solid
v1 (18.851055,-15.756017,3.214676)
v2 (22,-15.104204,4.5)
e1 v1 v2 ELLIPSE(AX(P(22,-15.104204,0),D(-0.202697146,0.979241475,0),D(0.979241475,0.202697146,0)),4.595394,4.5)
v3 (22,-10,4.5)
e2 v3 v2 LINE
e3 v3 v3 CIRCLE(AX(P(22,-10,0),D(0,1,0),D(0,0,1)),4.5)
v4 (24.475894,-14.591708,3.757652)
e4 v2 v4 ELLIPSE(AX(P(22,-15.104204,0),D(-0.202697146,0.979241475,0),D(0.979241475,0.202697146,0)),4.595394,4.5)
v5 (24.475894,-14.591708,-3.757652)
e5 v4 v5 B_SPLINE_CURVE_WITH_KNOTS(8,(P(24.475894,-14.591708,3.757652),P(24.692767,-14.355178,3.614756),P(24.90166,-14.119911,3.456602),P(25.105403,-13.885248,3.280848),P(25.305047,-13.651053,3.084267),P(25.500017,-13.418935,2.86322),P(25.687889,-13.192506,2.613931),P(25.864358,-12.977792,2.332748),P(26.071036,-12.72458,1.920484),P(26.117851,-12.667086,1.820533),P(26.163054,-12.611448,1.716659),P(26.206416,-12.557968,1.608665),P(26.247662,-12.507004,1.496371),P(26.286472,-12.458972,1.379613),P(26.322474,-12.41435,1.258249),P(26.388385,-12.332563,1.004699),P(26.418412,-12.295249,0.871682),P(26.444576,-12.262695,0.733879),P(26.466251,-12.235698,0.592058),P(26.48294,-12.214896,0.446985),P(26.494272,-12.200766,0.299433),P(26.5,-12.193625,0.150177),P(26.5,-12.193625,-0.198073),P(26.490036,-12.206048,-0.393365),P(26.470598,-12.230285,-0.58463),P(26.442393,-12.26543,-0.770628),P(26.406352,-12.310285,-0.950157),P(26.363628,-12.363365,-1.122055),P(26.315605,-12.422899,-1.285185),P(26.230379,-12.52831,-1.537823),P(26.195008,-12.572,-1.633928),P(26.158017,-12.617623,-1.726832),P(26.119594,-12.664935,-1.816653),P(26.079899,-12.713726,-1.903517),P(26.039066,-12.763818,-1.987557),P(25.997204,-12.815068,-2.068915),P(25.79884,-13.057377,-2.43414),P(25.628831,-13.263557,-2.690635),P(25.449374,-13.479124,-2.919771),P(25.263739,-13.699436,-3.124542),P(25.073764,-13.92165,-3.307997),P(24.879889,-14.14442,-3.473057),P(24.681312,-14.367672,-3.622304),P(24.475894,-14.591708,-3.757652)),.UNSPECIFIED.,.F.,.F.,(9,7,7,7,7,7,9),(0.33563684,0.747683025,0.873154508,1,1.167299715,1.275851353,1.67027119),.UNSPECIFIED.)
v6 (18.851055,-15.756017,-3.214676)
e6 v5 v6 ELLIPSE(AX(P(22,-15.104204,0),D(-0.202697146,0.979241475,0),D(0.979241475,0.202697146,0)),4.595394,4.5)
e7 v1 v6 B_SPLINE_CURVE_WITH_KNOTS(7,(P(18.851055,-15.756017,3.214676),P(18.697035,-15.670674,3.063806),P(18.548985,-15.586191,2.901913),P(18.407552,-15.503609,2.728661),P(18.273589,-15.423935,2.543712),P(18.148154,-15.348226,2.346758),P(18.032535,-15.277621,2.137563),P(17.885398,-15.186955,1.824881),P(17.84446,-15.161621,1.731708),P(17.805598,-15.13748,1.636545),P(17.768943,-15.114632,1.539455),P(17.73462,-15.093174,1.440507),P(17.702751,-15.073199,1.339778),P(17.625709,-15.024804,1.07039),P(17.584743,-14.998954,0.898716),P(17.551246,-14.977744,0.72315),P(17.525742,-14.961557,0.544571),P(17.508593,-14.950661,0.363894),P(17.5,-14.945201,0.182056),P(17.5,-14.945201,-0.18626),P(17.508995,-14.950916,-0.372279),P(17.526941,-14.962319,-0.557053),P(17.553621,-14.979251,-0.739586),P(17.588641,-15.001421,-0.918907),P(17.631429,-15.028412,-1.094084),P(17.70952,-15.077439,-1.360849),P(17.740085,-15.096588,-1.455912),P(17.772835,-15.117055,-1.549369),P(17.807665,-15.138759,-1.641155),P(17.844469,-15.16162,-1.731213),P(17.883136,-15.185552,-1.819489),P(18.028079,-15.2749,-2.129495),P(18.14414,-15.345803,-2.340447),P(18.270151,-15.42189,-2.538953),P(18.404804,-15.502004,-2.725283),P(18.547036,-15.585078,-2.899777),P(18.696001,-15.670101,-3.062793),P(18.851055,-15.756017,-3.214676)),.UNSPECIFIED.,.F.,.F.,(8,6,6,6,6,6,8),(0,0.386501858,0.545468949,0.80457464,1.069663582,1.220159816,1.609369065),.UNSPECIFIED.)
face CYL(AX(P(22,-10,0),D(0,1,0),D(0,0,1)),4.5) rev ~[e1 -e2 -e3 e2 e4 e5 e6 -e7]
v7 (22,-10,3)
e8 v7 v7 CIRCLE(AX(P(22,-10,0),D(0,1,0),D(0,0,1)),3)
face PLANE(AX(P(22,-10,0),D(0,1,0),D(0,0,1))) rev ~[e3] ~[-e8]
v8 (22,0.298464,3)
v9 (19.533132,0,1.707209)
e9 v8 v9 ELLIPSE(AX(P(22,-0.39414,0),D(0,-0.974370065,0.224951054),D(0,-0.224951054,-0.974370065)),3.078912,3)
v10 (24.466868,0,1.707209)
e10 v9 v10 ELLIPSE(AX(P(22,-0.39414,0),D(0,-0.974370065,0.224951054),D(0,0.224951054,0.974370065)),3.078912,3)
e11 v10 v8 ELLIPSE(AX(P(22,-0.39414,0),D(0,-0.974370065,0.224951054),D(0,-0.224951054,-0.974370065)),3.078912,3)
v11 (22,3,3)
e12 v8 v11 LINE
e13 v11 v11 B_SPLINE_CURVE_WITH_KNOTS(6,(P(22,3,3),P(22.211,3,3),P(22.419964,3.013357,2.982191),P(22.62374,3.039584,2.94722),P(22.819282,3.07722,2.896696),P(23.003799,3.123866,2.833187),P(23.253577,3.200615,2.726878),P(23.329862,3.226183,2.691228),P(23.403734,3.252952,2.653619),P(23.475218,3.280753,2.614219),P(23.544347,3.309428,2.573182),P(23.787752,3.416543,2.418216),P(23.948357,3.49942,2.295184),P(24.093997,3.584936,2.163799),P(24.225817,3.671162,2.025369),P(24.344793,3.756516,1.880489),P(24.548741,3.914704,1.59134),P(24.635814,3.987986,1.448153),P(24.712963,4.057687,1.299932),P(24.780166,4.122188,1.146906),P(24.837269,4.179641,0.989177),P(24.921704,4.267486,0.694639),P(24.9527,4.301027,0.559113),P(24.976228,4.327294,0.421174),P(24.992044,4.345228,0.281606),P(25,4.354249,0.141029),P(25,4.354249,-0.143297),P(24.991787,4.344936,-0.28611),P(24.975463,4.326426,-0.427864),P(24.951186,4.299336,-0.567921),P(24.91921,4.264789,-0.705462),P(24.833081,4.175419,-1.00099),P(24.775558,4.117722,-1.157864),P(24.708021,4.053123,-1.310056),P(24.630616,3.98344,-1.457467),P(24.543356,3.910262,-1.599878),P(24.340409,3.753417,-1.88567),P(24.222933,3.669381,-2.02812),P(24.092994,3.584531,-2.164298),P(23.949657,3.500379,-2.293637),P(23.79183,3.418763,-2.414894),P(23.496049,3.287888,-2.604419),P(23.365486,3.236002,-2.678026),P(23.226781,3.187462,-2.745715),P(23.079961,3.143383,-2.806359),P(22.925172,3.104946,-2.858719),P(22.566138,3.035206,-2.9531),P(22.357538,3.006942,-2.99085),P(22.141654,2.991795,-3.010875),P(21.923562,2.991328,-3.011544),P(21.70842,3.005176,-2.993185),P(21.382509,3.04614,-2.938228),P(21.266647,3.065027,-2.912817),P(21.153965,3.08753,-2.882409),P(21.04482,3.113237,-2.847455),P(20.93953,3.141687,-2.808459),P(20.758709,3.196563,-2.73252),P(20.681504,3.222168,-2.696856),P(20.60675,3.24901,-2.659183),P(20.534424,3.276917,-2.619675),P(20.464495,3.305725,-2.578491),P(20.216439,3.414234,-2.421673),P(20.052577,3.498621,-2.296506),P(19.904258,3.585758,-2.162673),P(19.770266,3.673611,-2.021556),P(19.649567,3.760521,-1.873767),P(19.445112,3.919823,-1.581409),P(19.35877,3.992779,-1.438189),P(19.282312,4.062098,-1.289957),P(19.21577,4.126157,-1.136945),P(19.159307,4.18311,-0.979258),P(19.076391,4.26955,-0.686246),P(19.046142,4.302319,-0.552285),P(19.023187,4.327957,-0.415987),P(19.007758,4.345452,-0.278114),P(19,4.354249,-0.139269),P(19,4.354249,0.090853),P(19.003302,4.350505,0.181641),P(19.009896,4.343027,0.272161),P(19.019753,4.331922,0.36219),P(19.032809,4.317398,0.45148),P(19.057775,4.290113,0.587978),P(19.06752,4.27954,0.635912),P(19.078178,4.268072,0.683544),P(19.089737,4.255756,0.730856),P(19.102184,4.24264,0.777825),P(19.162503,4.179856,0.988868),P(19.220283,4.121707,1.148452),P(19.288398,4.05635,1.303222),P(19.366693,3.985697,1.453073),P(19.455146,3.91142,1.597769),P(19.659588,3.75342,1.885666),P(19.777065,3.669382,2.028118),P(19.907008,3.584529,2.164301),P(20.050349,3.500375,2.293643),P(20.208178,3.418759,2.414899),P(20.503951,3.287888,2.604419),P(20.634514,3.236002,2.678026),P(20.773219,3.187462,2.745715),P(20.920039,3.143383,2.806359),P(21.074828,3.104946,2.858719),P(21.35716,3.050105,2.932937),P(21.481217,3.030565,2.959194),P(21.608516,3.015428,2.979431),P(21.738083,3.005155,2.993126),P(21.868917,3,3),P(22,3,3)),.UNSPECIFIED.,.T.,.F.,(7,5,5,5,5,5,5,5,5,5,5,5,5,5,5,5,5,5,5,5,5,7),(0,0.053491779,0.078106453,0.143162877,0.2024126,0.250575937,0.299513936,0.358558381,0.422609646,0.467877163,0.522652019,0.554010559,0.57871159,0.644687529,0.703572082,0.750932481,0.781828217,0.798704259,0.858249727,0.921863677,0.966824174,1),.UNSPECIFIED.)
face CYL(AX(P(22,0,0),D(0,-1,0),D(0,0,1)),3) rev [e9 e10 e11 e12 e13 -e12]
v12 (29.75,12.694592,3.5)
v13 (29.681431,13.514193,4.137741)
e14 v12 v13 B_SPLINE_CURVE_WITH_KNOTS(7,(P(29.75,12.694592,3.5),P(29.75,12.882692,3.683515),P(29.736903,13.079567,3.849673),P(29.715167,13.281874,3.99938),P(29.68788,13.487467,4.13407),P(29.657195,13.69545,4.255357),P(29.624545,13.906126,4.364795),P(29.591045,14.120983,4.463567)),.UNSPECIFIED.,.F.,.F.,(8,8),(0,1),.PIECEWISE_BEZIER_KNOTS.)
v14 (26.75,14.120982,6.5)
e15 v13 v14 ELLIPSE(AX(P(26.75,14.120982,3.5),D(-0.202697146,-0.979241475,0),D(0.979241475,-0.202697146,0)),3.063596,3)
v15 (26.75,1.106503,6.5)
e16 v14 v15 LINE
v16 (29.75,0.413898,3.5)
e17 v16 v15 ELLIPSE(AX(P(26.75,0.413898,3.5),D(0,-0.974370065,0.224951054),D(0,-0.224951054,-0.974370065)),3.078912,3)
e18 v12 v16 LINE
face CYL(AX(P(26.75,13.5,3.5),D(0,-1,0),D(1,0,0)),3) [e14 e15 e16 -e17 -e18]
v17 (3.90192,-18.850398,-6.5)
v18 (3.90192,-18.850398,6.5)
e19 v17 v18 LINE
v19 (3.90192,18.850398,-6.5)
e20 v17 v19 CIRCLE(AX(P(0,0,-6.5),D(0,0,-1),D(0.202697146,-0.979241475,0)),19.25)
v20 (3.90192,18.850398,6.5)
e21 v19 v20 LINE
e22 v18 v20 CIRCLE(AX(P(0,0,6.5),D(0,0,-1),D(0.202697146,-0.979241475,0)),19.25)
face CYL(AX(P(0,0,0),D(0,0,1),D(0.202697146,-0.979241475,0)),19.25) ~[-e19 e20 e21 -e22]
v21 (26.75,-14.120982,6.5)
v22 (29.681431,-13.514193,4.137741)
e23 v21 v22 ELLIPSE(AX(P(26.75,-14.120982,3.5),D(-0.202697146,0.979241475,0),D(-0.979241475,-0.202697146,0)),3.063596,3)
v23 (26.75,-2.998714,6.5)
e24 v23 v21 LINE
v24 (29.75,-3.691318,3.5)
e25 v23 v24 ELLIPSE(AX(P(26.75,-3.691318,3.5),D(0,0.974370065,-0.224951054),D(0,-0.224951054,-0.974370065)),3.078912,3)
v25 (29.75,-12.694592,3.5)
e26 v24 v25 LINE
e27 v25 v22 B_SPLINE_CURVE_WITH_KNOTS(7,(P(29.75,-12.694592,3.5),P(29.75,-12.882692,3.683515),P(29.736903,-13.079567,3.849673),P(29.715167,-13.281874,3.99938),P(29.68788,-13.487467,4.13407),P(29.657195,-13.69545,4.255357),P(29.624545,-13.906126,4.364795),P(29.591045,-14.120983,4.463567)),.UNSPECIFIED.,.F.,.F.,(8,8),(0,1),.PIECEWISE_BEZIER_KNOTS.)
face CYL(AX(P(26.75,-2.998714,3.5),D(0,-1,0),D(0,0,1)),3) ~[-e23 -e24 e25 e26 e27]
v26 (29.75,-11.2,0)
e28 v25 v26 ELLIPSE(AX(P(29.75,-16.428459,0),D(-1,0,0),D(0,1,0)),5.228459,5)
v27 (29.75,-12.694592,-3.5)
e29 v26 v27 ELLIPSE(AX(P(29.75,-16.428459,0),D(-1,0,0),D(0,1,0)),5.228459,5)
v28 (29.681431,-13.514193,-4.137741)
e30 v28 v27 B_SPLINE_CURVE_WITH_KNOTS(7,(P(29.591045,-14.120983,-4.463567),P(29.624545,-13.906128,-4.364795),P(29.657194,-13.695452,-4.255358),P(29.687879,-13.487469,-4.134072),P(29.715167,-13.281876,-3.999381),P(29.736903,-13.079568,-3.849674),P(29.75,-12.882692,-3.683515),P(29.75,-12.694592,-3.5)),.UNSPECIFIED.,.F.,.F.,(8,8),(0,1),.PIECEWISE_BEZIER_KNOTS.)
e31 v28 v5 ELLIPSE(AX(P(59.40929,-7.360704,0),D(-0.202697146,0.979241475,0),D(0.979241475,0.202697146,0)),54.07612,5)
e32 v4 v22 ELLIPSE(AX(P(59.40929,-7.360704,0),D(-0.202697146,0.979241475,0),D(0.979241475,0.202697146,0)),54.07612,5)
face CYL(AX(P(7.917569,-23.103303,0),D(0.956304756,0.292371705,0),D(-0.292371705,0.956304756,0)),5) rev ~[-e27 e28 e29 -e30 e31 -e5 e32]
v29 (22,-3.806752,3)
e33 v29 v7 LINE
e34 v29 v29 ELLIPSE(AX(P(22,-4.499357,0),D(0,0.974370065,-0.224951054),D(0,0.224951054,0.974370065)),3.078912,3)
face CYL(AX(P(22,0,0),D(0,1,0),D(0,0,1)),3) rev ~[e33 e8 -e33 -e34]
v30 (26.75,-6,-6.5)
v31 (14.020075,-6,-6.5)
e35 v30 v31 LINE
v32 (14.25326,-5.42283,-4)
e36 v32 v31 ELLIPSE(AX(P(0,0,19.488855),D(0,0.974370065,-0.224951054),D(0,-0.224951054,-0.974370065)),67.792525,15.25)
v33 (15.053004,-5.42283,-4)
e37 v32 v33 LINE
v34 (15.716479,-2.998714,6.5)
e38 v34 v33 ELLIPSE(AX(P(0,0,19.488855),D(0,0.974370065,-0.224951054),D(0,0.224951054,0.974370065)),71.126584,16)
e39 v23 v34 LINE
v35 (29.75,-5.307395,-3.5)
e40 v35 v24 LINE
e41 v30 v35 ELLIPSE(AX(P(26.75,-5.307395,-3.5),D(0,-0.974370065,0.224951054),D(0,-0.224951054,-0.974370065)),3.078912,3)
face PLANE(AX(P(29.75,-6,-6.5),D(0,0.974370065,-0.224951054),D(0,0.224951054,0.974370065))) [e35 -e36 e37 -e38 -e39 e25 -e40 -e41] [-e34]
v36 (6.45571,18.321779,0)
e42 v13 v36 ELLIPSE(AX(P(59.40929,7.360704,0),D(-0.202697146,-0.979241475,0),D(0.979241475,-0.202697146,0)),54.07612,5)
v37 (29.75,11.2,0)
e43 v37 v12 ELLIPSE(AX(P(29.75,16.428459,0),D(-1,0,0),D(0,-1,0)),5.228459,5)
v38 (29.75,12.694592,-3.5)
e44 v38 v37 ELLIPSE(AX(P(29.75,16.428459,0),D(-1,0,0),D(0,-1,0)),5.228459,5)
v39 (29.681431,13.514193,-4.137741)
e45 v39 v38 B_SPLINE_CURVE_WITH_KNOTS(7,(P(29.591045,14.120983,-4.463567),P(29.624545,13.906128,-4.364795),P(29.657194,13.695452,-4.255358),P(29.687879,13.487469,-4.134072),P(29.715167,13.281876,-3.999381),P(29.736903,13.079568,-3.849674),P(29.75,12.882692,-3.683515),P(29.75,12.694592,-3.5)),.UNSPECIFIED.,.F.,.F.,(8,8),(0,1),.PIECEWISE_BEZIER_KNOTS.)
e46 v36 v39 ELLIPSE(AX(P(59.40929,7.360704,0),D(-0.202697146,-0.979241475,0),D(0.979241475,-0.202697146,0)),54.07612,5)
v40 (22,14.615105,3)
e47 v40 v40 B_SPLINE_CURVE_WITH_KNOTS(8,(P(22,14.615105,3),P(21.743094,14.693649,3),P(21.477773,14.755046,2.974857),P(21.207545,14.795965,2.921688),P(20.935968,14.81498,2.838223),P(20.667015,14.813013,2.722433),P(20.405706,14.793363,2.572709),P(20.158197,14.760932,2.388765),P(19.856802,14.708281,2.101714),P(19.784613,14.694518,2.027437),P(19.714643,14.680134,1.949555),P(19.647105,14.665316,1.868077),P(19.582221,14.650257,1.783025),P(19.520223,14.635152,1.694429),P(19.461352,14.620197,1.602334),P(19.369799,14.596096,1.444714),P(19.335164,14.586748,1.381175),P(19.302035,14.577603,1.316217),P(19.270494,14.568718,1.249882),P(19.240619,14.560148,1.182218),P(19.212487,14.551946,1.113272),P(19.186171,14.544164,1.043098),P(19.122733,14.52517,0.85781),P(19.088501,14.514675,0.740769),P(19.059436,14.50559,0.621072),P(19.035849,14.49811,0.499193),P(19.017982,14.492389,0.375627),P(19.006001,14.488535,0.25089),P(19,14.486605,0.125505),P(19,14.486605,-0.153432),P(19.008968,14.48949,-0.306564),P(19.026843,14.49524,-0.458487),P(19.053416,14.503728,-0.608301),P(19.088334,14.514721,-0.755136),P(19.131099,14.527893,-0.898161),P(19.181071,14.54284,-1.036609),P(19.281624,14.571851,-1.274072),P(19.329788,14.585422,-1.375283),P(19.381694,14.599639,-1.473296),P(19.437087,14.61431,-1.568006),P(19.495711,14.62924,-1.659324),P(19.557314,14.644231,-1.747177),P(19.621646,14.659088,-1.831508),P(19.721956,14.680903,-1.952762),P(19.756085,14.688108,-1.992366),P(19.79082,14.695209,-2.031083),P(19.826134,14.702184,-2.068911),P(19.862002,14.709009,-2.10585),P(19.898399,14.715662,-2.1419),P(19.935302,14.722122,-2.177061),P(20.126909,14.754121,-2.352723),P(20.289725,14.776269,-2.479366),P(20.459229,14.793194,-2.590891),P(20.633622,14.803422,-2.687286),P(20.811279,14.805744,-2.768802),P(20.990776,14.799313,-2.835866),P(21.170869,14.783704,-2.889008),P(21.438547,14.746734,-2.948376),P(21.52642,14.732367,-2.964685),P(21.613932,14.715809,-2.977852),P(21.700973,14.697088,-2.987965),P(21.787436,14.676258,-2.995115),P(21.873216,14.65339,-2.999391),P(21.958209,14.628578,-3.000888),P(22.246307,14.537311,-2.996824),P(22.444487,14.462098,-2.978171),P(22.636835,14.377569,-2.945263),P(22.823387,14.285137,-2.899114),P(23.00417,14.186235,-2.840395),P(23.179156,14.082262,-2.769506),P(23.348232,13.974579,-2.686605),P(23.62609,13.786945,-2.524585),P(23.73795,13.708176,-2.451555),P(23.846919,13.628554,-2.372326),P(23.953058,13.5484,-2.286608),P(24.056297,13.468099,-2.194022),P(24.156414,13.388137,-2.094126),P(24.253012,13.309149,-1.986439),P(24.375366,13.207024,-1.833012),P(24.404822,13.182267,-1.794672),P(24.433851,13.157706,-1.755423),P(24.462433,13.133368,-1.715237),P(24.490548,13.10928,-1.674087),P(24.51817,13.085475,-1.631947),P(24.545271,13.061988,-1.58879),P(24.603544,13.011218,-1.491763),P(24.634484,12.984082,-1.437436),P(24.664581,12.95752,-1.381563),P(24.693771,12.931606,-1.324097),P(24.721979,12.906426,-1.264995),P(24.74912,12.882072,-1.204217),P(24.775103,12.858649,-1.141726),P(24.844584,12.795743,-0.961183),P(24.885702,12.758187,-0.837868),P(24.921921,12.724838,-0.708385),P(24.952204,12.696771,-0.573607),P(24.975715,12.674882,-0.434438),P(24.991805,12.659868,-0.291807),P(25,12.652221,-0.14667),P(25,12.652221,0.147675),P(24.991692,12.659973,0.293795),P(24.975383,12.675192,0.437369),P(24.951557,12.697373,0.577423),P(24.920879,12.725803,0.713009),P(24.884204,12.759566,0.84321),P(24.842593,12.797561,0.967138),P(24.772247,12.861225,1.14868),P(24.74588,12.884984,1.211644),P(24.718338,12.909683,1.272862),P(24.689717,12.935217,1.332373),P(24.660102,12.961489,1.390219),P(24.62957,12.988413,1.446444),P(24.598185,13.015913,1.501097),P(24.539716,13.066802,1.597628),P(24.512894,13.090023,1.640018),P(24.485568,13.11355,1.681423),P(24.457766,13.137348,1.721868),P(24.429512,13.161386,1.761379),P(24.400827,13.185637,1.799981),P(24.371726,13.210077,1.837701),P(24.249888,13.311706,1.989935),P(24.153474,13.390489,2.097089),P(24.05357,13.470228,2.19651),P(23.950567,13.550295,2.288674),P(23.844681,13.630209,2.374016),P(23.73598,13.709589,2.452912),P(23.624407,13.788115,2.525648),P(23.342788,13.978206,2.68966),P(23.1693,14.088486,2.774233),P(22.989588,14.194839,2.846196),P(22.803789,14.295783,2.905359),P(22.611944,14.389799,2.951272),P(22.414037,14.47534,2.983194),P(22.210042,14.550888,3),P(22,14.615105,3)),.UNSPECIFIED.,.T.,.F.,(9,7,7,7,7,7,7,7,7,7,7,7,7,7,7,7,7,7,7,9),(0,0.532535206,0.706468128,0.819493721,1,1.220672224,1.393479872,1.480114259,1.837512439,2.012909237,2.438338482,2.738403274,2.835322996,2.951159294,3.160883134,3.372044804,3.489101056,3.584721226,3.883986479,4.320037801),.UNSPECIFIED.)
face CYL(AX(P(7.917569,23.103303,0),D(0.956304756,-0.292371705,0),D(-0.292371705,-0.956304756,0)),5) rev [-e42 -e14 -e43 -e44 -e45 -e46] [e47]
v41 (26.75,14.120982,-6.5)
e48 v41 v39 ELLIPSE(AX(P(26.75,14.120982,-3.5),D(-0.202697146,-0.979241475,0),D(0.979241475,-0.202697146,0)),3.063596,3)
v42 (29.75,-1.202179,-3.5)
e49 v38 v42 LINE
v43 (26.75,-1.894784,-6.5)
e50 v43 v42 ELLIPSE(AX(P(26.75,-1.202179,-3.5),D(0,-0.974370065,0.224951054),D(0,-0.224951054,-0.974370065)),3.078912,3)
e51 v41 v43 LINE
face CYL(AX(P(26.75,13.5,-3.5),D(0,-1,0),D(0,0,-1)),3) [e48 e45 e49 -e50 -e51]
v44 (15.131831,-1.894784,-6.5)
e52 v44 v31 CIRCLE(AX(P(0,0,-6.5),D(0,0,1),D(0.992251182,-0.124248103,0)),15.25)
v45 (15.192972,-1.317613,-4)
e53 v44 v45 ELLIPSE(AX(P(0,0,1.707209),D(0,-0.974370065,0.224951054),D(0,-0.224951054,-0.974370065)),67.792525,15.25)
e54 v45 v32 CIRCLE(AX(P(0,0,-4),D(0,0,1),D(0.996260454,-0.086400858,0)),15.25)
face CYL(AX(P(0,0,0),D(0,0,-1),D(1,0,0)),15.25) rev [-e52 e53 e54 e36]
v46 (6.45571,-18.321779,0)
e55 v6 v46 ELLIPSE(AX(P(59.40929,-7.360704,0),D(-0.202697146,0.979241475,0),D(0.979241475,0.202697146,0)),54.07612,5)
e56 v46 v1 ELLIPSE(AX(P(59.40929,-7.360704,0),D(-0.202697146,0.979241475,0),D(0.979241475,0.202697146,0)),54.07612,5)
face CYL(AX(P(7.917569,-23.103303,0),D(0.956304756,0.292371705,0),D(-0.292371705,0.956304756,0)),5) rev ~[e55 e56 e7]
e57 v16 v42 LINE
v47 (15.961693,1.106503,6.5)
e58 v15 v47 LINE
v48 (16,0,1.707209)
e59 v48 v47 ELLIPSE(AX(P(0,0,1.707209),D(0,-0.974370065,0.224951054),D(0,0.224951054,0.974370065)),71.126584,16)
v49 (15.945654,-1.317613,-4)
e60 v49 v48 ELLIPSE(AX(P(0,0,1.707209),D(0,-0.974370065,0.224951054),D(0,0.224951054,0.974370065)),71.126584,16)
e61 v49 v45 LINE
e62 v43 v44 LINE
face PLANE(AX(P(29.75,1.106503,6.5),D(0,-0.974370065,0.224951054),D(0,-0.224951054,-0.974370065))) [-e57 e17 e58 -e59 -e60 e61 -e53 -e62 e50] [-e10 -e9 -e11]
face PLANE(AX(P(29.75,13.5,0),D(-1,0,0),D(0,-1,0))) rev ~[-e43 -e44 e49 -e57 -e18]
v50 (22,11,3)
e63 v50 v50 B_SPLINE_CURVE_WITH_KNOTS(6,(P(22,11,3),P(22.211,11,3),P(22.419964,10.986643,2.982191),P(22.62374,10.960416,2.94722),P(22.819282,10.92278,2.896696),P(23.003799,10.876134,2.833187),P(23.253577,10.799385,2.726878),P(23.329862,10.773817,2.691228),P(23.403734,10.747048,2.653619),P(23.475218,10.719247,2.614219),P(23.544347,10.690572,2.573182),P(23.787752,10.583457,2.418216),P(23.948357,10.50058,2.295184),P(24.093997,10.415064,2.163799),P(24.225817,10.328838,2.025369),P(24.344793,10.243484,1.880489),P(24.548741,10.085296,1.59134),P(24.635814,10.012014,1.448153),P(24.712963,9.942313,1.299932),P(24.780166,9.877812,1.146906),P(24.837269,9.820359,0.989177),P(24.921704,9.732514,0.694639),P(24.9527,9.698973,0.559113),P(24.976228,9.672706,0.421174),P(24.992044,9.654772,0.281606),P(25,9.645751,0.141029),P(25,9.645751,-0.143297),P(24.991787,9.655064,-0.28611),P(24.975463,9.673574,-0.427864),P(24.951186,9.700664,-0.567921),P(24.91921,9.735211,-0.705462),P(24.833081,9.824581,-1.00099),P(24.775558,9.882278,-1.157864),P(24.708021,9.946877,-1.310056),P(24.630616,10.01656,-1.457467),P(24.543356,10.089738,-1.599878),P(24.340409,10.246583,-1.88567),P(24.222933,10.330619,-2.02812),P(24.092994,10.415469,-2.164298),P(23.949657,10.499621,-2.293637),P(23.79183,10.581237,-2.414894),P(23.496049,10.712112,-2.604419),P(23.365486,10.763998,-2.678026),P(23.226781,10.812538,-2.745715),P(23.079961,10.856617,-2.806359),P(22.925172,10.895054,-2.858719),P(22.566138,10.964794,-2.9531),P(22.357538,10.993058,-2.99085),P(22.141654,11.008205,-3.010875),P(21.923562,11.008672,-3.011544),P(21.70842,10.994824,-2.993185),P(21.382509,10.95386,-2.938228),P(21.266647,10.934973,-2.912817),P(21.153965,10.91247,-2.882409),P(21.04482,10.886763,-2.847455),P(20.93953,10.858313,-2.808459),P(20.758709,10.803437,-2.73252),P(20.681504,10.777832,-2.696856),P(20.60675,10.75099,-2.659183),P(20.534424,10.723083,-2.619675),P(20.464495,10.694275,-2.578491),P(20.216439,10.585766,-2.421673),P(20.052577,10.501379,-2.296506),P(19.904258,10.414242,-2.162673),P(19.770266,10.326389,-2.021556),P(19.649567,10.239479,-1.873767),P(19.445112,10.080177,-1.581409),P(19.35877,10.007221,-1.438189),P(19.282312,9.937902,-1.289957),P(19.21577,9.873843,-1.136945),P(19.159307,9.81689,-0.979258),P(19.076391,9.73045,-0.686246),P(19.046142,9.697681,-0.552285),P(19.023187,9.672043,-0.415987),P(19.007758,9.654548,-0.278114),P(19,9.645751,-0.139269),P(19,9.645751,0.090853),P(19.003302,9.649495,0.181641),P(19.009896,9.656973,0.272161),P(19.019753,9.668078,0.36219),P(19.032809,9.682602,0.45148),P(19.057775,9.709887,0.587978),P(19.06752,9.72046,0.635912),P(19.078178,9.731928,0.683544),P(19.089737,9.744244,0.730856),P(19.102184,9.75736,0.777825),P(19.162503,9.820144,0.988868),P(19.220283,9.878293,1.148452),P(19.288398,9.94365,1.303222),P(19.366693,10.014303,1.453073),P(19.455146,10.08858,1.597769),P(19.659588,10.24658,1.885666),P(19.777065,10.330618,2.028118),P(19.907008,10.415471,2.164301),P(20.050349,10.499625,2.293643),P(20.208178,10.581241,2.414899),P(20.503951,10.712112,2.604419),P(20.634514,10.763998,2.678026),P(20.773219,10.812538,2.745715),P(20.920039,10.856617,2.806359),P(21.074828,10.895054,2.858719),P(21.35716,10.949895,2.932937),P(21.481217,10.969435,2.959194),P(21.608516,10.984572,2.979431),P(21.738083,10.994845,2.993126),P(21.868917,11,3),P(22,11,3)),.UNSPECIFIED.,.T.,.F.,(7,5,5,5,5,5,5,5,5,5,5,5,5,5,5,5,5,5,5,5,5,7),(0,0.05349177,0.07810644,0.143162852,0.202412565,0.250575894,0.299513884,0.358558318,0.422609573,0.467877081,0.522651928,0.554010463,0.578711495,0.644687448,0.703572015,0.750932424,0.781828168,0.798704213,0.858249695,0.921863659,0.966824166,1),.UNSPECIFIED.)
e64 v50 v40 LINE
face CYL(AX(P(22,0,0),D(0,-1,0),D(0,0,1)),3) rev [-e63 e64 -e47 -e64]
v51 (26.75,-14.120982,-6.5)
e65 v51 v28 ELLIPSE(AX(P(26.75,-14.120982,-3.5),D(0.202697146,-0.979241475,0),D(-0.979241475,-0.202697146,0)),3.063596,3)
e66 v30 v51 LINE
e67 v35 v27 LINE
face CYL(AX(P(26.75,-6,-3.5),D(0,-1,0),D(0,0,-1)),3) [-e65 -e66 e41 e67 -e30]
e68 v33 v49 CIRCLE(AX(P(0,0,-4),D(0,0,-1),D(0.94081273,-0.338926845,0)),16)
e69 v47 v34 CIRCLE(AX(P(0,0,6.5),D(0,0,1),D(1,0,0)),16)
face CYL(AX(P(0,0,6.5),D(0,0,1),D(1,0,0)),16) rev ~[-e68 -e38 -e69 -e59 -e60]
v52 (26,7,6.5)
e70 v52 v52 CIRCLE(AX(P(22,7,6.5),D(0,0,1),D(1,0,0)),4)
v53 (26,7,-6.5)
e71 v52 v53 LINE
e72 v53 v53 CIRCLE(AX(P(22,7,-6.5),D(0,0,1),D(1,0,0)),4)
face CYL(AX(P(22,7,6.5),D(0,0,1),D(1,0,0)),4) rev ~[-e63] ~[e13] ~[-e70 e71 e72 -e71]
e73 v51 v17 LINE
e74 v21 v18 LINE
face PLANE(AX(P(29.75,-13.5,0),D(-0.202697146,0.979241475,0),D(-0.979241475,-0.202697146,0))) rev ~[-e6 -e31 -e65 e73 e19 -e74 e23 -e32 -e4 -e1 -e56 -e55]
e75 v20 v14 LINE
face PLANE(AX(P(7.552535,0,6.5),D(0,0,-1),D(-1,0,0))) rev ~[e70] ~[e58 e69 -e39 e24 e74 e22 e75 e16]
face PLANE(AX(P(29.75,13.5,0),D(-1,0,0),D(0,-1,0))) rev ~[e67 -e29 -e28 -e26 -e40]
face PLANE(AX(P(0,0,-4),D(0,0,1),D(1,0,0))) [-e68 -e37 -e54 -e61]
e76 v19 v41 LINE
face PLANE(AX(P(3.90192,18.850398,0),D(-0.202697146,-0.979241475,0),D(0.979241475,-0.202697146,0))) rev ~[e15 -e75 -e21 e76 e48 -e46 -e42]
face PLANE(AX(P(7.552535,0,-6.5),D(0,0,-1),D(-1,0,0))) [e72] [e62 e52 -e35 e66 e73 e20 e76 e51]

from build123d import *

# Parameters (mm, degrees)
ESQUISSE1_R                  = 15.25
EXTRUSION1_DEPTH             = 6.5
ESQUISSE2_R                  = 16
ENL_V_MAT_EXTRU_1_DEPTH      = 10.5
ENL_V_MAT_EXTRU_2_REACH      = 51
ESQUISSE4_R                  = 4
ENL_V_MAT_EXTRU_3_DEPTH      = 14
CONG_2_R                     = 3
ESQUISSE5_R                  = 3
ENL_V_MAT_EXTRU_4_DEPTH      = 20.25
ENL_V_MAT_EXTRU_4_DEPTH_BACK = 20.25
ENL_V_START                  = -10
ESQUISSE6_R                  = 4.5
ENL_V_MAT_EXTRU_5_DEPTH      = 10.25


with BuildPart() as part:
    # Esquisse1 → Extrusion1 (new body, symmetric)
    with BuildSketch(Plane.XY):
        with BuildLine():
            Line((3.901920053, 18.850398402), (29.75, 13.5))
            Line((29.75, 13.5), (29.75, -13.5))
            Line((29.75, -13.5), (3.901920053, -18.850398402))
            ThreePointArc((3.901920053, -18.850398402), (-19.25, 0), (3.901920053, 18.850398402))
        make_face()
        Circle(ESQUISSE1_R, mode=Mode.SUBTRACT)
    extrude(amount=EXTRUSION1_DEPTH, both=True)

    # Esquisse2 → Enlèv. mat.-Extru.1 (cut)
    with BuildSketch(Plane.XY.offset(6.5)):
        Circle(ESQUISSE2_R)
    extrude(amount=-ENL_V_MAT_EXTRU_1_DEPTH, mode=Mode.SUBTRACT)

    # Esquisse3 → Enlèv. mat.-Extru.2 (cut, up to next)
    with BuildSketch(Plane(origin=(29.75, 0, 0), x_dir=(0, 0, -1), z_dir=(1, 0, 0)), mode=Mode.PRIVATE) as enl_v_mat_extru_2_sk1:
        Polygon((6.5, -6), (-6.5, -2.998713515), (-6.5, 1.106502916), (6.5, -1.894783569), align=None)
    enl_v_mat_extru_2_tool1 = extrude(enl_v_mat_extru_2_sk1.sketch, amount=-ENL_V_MAT_EXTRU_2_REACH, mode=Mode.PRIVATE) & part.part
    add(enl_v_mat_extru_2_tool1.solids().sort_by_distance((29.75, -2.446749, 0))[0], mode=Mode.SUBTRACT)

    # Esquisse4 → Enlèv. mat.-Extru.3 (cut, through all)
    with BuildSketch(Plane.XY.offset(6.5)):
        with Locations((22, 7)):
            Circle(ESQUISSE4_R)
    extrude(amount=-ENL_V_MAT_EXTRU_3_DEPTH, mode=Mode.SUBTRACT)

    # Congé2
    cong_2_edges = [part.edges().sort_by_distance(p)[0] for p in [
        (29.75, -8.249356758, 6.5),
        (29.75, 5.802608216, -6.5),
        (29.75, 7.303251458, 6.5),
        (29.75, -9.75, -6.5),
    ]]
    fillet(cong_2_edges, radius=CONG_2_R)

    # Esquisse5 → Enlèv. mat.-Extru.4 (cut, two sides)
    with BuildSketch(Plane(origin=(0, 0, 0), x_dir=(1, 0, 0), z_dir=(0, 1, 0))) as enl_v_mat_extru_4_sk:
        with Locations(Location((22, 0, 0), (0, 0, 270))):  # turned: the seam where the file's is
            Circle(ESQUISSE5_R)
    extrude(amount=ENL_V_MAT_EXTRU_4_DEPTH, mode=Mode.SUBTRACT)
    extrude(enl_v_mat_extru_4_sk.sketch, amount=-ENL_V_MAT_EXTRU_4_DEPTH_BACK, mode=Mode.SUBTRACT)

    # Esquisse6 → Enlèv. mat.-Extru.5 (cut, through all)
    with BuildSketch(Plane(origin=(0, 0, 0), x_dir=(1, 0, 0), z_dir=(0, 1, 0)).offset(ENL_V_START)):
        with Locations(Location((22, 0, 0), (0, 0, 270))):  # turned: the seam where the file's is
            Circle(ESQUISSE6_R)
    extrude(amount=-ENL_V_MAT_EXTRU_5_DEPTH, mode=Mode.SUBTRACT)

    # Esquisse7 → Enlèvement de matière-Révolution1 (revolve, cut)
    with BuildSketch(Plane.XY):
        Polygon((7.917568964, -23.103302801), (6.45571044, -18.321779021), (29.75, -11.2), (31.211858524, -15.98152378), align=None)
    enl_vement_de_mati_re_r_volution1 = revolve(axis=Axis((-29.68487649, -34.599524074, 0), (0.956304756, 0.292371705, 0)), mode=Mode.SUBTRACT)

    # Symétrie1: Enlèvement de matière-Révolution1 across plane
    add(enl_vement_de_mati_re_r_volution1.mirror(Plane.ZX), mode=Mode.SUBTRACT)


solid = part.part
